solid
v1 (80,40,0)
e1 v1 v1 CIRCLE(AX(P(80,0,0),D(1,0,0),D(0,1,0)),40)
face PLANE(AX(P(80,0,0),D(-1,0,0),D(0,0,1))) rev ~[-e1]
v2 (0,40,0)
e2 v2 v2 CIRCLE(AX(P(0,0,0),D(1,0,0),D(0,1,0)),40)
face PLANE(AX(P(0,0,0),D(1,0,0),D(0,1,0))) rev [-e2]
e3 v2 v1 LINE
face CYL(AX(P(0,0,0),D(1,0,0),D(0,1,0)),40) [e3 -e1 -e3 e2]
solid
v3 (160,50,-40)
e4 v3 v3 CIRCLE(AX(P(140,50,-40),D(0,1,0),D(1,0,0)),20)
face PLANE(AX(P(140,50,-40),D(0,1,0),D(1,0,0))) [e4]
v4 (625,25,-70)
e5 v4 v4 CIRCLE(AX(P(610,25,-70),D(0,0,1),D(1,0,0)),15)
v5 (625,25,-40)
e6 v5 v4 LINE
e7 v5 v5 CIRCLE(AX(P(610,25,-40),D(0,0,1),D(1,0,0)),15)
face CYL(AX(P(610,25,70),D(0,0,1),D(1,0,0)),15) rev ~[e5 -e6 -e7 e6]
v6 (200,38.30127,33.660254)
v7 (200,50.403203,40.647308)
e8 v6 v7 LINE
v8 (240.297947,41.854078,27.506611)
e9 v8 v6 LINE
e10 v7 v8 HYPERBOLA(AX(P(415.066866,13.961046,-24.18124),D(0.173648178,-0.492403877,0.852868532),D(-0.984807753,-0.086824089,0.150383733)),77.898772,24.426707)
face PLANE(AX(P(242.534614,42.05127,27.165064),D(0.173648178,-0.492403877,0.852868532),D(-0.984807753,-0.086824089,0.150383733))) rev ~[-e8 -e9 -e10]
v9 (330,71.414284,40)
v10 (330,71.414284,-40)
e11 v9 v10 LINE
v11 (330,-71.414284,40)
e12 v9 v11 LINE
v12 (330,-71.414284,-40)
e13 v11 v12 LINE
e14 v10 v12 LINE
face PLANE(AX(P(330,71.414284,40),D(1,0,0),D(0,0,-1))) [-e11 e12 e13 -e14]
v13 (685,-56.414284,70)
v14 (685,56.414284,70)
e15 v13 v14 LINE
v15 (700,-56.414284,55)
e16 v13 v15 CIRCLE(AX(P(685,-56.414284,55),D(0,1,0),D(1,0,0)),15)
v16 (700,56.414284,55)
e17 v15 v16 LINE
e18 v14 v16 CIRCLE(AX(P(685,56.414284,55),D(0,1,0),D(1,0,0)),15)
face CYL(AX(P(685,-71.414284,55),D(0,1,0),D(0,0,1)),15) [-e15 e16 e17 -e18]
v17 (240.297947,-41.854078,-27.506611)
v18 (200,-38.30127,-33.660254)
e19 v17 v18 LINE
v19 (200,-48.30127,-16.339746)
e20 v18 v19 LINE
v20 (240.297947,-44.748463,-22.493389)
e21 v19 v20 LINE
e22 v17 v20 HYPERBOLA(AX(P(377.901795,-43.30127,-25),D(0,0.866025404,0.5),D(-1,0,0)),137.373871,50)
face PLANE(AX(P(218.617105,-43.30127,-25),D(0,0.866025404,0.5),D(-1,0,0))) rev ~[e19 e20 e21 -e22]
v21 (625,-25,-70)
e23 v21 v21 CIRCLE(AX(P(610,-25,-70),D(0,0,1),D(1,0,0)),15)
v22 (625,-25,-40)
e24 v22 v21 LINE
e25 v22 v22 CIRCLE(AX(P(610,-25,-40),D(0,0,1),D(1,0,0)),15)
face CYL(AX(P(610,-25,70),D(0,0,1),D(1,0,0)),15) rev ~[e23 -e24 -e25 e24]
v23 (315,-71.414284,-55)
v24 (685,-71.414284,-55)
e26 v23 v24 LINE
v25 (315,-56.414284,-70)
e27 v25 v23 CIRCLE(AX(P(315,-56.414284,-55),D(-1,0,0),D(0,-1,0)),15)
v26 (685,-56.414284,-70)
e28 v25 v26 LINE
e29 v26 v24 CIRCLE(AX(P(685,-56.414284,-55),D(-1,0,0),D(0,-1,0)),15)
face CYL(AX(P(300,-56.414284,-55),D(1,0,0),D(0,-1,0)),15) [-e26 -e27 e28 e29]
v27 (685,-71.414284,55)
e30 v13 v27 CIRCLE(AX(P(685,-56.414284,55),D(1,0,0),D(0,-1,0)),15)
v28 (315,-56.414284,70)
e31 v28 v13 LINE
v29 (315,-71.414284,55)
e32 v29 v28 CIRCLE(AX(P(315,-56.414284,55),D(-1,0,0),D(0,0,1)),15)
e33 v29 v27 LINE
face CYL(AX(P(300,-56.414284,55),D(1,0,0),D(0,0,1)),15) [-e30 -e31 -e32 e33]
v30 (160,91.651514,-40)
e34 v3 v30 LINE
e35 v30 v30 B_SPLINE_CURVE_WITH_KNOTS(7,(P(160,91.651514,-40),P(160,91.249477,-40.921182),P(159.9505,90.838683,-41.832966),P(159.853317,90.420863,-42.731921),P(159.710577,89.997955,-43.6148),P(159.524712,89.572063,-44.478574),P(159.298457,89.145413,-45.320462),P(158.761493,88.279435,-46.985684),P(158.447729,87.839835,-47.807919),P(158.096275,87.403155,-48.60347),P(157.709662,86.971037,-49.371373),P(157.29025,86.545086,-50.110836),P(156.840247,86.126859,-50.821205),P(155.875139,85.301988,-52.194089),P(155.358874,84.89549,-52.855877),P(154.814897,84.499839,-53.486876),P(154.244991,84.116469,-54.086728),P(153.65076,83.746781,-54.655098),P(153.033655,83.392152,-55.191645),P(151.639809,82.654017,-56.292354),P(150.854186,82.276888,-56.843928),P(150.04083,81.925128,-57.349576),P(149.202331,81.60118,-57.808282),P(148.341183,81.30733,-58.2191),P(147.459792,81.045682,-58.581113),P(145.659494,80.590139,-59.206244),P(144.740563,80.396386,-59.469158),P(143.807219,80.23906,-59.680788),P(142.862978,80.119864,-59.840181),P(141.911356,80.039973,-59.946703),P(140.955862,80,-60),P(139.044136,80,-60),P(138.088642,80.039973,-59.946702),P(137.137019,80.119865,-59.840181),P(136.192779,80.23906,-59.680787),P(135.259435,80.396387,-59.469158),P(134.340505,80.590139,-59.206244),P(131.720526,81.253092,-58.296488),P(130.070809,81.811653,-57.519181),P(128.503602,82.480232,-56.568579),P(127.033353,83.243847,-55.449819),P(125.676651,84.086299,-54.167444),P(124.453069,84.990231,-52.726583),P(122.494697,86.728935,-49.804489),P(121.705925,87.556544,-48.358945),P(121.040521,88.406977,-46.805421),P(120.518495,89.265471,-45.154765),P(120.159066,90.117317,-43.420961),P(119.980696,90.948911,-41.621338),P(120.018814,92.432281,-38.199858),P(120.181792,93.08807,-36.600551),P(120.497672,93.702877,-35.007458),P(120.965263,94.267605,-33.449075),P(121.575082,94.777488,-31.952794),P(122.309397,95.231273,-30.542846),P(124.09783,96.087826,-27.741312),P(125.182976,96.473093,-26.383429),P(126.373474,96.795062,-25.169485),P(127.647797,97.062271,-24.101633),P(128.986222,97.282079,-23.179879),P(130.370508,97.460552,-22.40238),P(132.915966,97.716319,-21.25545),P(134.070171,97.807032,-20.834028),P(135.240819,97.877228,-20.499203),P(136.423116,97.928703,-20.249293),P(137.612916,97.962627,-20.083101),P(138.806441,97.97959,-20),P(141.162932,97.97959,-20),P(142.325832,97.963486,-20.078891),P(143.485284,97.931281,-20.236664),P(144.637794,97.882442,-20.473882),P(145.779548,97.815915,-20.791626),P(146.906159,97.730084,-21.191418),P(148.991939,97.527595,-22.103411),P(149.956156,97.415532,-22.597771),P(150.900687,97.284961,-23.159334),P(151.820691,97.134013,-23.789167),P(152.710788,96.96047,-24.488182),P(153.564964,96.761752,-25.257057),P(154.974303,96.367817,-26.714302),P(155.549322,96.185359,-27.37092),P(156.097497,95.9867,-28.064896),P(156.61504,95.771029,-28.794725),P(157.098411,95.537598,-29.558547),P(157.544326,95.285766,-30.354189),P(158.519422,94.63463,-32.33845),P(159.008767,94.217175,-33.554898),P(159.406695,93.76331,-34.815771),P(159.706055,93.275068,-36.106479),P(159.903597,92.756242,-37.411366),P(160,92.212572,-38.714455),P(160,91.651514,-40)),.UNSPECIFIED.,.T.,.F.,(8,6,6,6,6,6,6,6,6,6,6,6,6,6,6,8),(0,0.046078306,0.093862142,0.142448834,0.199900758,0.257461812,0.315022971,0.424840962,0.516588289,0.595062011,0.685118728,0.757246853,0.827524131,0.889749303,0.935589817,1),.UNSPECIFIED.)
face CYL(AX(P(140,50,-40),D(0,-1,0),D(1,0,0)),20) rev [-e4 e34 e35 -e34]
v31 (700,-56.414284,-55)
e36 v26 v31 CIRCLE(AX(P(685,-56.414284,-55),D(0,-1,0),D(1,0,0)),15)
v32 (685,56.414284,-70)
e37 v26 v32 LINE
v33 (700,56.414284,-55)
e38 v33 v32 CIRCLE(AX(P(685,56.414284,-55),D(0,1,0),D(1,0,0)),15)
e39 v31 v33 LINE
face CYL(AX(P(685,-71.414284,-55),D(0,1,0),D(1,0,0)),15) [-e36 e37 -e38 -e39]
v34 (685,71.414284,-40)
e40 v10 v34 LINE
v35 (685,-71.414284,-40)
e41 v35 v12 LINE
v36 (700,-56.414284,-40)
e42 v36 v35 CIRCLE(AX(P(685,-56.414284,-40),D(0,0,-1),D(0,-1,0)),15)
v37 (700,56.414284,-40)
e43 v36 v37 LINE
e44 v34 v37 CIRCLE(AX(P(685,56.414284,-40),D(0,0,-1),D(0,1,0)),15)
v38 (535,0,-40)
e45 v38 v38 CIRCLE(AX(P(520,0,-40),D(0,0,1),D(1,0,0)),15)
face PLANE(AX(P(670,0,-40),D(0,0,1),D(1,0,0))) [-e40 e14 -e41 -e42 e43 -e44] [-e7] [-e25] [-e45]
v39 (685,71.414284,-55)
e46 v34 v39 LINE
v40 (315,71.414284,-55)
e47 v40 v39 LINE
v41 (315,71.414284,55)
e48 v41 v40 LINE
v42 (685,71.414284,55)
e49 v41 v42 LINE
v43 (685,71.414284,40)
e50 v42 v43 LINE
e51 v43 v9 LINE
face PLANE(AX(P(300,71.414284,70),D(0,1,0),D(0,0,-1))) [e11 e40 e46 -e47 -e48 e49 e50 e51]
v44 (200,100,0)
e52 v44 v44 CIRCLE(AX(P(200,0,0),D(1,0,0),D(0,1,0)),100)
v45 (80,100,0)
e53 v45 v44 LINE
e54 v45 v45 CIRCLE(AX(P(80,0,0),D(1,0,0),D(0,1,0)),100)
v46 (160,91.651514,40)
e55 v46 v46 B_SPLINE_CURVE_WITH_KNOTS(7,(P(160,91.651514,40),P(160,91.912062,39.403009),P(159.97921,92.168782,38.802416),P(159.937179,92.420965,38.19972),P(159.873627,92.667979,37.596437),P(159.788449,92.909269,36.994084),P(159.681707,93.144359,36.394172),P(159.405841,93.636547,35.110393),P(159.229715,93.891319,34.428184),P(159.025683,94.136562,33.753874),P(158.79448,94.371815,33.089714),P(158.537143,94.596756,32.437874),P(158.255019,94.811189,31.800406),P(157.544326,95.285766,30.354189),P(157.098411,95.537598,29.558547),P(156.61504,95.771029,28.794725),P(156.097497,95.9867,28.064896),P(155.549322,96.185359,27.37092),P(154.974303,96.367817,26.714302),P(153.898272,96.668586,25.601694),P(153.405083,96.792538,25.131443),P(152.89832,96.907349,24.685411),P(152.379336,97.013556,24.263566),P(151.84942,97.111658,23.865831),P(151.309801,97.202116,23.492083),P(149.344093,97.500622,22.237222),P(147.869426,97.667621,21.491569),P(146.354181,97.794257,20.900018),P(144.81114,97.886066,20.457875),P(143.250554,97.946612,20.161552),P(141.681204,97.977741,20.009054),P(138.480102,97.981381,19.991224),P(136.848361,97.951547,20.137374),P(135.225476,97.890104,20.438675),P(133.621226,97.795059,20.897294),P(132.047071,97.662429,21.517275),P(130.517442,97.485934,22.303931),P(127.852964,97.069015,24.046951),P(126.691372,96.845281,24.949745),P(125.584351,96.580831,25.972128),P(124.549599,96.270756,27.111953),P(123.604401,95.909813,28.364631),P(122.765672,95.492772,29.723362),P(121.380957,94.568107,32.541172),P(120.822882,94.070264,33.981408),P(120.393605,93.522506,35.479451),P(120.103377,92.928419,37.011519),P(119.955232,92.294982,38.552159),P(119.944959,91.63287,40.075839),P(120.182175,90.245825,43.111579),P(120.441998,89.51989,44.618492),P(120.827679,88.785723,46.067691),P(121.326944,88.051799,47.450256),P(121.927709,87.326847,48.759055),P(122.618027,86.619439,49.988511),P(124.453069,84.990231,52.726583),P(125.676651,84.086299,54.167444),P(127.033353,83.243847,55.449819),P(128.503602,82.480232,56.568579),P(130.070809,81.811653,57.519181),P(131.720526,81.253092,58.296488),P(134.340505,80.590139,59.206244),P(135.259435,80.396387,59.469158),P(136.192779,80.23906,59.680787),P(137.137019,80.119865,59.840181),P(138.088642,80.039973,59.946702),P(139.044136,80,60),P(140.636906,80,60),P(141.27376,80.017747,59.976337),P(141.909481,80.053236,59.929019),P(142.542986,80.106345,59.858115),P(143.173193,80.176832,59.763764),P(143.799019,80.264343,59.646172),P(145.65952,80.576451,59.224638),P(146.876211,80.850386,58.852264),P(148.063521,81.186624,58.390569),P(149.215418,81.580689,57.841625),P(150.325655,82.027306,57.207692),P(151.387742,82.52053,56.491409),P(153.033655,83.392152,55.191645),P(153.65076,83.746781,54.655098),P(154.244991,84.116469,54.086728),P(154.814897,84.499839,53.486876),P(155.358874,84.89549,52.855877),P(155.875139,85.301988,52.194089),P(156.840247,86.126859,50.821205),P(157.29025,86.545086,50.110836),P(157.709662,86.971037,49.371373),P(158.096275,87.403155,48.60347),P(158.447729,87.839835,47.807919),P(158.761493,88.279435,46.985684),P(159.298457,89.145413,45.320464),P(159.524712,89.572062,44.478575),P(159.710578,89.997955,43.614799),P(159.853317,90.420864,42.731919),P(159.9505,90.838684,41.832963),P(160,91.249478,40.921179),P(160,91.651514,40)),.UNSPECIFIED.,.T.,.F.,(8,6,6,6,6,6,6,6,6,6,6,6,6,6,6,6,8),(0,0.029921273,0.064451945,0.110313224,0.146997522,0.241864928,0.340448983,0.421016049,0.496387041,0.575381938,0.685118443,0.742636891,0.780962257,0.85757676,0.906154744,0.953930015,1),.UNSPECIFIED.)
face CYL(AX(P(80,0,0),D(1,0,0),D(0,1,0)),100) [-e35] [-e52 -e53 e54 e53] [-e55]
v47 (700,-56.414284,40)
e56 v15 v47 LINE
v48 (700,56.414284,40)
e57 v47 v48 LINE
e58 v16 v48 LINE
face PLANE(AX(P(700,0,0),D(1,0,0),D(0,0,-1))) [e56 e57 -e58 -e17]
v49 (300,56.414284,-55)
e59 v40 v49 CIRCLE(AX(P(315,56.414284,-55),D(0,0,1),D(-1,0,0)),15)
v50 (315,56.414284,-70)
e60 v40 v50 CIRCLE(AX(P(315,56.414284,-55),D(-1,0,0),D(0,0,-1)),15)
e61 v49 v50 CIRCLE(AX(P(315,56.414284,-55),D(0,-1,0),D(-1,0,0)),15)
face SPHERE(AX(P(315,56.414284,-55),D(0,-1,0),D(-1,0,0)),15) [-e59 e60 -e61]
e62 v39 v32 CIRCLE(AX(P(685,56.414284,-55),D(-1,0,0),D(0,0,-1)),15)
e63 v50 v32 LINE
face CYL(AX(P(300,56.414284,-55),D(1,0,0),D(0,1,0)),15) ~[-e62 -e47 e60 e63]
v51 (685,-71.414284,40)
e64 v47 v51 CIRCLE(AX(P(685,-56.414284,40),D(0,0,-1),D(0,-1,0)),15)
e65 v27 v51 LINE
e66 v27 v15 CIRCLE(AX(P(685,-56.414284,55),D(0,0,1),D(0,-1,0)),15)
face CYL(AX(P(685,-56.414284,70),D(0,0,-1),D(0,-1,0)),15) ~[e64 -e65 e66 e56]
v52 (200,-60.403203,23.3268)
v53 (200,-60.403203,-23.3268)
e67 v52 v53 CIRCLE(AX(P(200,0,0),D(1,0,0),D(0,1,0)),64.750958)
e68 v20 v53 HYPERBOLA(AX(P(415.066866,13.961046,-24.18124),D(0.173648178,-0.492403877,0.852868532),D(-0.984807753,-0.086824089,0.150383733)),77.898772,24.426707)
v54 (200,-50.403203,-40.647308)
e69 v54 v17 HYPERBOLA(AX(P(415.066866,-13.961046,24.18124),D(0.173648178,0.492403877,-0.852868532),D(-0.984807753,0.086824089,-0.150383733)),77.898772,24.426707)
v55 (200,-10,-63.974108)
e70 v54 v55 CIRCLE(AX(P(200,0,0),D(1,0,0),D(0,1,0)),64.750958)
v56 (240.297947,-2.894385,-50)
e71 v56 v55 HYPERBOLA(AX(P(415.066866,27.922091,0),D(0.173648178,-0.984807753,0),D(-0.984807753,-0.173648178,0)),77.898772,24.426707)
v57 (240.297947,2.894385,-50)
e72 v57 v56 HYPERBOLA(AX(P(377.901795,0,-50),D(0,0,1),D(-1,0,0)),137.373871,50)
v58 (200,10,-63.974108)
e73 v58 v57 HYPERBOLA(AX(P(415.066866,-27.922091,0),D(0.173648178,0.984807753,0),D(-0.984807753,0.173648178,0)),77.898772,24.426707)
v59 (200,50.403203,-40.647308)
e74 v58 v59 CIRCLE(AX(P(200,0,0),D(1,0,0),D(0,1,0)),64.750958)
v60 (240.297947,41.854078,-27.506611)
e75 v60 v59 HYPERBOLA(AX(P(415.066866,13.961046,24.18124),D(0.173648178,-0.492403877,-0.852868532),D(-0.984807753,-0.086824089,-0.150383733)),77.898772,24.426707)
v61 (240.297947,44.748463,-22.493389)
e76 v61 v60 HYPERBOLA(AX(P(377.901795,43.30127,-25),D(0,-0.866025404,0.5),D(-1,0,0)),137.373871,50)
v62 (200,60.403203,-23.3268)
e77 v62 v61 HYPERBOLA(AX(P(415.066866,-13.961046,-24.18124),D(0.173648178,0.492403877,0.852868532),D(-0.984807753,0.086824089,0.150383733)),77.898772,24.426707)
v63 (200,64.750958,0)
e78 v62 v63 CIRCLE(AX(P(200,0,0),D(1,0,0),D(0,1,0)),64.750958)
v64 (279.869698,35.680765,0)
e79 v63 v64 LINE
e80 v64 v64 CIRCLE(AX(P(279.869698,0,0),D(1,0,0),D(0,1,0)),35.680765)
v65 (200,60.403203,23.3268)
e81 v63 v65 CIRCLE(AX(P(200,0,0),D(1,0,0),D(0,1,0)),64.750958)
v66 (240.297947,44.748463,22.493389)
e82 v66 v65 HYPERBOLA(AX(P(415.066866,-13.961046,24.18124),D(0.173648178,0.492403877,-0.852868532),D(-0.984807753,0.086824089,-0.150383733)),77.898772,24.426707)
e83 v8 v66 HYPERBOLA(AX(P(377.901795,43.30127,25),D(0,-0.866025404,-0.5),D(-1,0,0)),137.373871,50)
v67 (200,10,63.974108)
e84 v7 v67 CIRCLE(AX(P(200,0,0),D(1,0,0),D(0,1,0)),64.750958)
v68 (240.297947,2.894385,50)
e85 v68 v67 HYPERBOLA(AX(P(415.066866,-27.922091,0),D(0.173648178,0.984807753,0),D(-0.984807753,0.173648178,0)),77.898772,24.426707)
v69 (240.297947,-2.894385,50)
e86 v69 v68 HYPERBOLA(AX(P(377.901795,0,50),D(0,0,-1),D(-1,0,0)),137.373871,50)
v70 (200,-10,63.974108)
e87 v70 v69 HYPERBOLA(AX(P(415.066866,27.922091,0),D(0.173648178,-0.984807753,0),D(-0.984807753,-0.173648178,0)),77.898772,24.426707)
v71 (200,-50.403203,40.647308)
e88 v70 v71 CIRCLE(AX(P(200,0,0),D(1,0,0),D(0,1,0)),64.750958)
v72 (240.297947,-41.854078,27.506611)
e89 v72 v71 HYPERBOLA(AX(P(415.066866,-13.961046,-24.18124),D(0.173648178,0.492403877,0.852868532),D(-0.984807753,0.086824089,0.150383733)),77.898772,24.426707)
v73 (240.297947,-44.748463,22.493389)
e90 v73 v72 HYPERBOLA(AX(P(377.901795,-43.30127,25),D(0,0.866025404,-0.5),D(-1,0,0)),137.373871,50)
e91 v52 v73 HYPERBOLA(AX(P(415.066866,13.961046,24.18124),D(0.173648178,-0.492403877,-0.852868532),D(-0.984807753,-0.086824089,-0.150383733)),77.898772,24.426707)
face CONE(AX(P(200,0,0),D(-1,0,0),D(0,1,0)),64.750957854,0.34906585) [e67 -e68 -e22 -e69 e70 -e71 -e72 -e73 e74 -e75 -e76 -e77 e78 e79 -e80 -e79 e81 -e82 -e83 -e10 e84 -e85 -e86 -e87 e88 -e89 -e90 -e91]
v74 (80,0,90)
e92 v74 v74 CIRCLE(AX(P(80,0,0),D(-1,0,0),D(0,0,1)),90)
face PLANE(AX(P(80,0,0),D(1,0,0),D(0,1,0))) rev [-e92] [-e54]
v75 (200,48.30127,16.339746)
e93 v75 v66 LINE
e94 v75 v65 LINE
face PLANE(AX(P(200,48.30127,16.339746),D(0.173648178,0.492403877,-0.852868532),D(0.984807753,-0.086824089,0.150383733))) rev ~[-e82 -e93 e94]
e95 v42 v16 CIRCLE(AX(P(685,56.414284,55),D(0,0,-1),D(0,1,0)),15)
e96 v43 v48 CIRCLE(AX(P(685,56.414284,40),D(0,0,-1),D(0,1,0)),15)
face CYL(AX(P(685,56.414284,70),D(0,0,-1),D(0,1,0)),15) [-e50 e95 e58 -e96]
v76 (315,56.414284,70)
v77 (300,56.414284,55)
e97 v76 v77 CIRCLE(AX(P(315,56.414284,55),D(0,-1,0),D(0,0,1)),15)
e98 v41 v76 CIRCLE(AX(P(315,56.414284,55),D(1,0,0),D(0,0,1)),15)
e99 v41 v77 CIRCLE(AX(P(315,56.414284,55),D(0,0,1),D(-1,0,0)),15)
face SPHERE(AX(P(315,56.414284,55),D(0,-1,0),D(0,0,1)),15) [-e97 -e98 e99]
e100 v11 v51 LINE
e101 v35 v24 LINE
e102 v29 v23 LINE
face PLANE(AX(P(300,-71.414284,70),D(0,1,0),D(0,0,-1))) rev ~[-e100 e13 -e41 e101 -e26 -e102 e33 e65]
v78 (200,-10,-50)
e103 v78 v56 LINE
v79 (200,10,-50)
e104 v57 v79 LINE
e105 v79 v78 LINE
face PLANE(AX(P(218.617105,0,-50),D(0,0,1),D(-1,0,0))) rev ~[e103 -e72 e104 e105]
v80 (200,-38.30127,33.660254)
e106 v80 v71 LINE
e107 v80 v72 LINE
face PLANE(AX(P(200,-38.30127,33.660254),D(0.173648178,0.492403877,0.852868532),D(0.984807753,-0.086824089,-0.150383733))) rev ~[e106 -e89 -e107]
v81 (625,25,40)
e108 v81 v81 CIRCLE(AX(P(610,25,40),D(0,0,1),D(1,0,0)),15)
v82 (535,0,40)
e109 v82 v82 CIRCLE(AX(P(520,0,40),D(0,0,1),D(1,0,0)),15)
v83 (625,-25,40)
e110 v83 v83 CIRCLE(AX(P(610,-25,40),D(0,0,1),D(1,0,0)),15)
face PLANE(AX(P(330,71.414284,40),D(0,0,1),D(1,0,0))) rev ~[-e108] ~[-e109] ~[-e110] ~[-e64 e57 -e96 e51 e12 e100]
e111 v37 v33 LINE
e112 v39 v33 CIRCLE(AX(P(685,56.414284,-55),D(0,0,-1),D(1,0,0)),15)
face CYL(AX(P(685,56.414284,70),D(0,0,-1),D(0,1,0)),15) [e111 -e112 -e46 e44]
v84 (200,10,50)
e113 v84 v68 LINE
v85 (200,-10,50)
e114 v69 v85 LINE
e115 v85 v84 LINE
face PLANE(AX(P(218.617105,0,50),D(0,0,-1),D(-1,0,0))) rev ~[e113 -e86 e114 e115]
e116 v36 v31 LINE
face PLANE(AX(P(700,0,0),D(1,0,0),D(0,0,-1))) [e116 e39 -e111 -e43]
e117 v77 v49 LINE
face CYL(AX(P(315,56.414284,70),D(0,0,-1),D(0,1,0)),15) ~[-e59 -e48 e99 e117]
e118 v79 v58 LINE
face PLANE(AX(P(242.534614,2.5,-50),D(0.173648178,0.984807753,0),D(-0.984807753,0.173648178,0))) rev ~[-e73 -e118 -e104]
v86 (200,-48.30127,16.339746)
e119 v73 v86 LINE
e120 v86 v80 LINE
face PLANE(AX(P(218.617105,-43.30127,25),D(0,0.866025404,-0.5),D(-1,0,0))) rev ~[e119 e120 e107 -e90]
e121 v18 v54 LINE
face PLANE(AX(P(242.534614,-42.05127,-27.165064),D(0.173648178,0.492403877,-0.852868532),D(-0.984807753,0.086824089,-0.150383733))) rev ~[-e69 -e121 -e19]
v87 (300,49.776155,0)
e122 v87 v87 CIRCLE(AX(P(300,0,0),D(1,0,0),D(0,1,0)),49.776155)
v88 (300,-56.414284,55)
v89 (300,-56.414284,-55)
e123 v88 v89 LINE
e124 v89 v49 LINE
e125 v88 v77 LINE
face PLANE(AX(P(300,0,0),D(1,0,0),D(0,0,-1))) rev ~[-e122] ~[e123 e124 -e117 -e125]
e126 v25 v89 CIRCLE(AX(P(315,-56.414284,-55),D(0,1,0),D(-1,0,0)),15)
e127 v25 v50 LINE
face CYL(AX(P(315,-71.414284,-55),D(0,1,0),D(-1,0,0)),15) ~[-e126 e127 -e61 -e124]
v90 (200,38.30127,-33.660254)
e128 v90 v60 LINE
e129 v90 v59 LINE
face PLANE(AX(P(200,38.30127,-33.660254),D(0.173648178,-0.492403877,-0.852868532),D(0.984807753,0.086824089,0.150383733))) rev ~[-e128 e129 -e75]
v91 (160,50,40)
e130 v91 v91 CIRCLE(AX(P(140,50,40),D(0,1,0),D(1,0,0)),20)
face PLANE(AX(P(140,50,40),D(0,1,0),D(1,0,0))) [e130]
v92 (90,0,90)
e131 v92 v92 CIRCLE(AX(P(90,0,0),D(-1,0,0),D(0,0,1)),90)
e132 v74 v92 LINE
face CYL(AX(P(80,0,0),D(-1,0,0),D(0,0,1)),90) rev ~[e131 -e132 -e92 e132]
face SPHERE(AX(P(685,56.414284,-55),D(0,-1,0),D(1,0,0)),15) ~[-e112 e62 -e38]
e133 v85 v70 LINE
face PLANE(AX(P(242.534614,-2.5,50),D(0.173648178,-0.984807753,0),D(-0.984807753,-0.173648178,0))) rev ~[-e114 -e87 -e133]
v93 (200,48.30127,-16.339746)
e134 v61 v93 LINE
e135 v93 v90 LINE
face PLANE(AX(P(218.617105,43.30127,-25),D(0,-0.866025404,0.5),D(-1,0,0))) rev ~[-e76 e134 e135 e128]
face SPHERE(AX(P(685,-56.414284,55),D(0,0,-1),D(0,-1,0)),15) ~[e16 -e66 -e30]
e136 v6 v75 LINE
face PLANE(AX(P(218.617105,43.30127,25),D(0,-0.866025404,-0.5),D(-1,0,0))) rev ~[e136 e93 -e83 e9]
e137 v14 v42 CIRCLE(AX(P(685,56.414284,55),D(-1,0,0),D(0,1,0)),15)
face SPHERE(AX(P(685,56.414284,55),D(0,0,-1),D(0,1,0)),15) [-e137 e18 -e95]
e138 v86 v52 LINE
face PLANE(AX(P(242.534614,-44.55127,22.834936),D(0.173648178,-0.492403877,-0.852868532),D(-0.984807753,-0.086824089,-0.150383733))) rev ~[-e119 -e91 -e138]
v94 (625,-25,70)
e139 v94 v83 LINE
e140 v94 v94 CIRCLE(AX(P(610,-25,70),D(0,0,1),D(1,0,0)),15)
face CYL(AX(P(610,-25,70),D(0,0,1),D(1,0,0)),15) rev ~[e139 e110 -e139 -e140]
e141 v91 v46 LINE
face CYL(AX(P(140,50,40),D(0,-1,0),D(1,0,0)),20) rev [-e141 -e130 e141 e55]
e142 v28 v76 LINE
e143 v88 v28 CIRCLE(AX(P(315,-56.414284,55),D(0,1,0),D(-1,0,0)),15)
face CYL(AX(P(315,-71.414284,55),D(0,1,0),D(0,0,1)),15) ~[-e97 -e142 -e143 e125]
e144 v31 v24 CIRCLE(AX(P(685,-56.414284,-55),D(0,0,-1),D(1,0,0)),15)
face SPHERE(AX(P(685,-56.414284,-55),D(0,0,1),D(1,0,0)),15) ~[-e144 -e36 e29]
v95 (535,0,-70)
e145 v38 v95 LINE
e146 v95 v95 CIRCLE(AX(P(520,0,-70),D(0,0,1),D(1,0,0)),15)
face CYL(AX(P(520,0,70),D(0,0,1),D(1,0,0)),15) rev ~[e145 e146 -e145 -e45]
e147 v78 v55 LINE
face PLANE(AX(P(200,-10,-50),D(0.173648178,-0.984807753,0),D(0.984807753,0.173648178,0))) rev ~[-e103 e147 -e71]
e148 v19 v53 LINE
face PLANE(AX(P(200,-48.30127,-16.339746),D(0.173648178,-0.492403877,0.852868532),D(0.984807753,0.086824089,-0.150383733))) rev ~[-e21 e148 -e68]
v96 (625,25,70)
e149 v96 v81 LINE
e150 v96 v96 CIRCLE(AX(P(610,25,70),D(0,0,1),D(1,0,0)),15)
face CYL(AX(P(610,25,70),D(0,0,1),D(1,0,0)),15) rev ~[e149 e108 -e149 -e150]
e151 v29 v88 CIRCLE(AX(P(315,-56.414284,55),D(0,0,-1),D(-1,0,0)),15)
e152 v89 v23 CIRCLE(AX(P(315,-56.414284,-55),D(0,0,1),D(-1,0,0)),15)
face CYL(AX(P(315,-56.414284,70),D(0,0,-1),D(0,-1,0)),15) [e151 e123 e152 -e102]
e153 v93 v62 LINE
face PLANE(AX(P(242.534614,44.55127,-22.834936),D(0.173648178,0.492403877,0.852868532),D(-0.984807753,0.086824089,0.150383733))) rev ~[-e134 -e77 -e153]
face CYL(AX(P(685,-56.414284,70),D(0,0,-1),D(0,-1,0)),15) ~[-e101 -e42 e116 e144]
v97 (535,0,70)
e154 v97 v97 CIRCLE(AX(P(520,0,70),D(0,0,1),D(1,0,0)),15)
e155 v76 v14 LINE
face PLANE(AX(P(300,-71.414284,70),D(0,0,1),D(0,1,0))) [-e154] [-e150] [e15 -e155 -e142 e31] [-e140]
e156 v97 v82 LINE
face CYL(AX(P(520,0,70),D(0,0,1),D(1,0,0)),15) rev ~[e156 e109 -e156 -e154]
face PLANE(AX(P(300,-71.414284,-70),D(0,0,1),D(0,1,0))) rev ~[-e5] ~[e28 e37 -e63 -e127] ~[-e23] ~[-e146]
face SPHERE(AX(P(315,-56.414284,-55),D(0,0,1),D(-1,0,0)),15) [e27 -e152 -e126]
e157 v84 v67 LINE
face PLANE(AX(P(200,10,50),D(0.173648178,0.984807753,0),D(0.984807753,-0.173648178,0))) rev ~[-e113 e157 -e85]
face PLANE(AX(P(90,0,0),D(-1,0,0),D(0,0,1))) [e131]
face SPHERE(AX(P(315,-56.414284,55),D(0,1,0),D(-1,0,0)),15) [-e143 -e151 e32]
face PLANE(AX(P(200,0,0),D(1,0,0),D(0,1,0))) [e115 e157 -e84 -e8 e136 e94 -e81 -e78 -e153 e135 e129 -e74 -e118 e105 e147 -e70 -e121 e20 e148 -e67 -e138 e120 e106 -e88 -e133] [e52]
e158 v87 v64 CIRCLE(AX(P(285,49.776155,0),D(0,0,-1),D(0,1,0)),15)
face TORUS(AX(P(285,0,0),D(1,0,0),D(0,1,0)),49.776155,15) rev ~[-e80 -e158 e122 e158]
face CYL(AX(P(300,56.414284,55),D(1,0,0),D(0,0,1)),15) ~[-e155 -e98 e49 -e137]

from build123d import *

# Parameters (mm, degrees)
SKETCH2_R               = 90
CUT_EXTRUDE1_DEPTH      = 10
SKETCH3_W               = 140
SKETCH3_H               = 142.82856857
BOSS_EXTRUDE1_DEPTH     = 400
FILLET1_R               = 15
CUT_EXTRUDE4_START      = 50
SKETCH6_R               = 20
CUT_EXTRUDE4_DEPTH      = 54
CUT_EXTRUDE5_START      = 50
CUT_EXTRUDE5_DEPTH      = 54
CIRPATTERN1_COUNT       = 6
SKETCH8_W               = 340
SKETCH8_H               = 80
CUT_EXTRUDE6_DEPTH      = 172.414284385
SKETCH9_R               = 15
CUT_EXTRUDE7_DEPTH      = 171.0000001
SKETCH10_W              = 30
SKETCH10_H              = 80
CUT_EXTRUDE8_DEPTH      = 101.0000001
CUT_EXTRUDE8_DEPTH_BACK = 101.0000001


with BuildPart() as part:
    # Sketch1 → Revolve1 (revolve)
    with BuildSketch(Plane.XY):
        Polygon((0, 0), (0, 40), (80, 40), (80, 100), (200, 100), (200, 64.750957854), (300, 28.353934428), (300, 0), align=None)
    revolve(axis=Axis((-5657.507821664, 0, 0), (1, 0, 0)))

    # Sketch2 → Cut-Extrude1 (cut)
    with BuildSketch(Plane.ZY.offset(-80)):
        Circle(SKETCH2_R)
    extrude(amount=-CUT_EXTRUDE1_DEPTH, mode=Mode.SUBTRACT)

    # Sketch3 → Boss-Extrude1 (add)
    with BuildSketch(Plane(origin=(300, 0, 0), x_dir=(0, 0, -1), z_dir=(1, 0, 0))):
        Rectangle(SKETCH3_W, SKETCH3_H)
    extrude(amount=BOSS_EXTRUDE1_DEPTH)

    # Fillet1
    fillet1_edges = [part.edges().sort_by_distance(p)[0] for p in [
        (700, -71.414284285, 0),
        (700, 0, -70),
        (700, 71.414284285, 0),
        (300, -28.353934428, 0),
        (300, 0, 70),
        (500, 71.414284285, 70),
        (300, -71.414284285, 0),
        (500, -71.414284285, 70),
        (300, 0, -70),
        (500, -71.414284285, -70),
        (300, 71.414284285, 0),
        (500, 71.414284285, -70),
        (700, 0, 70),
    ]]
    fillet(fillet1_edges, radius=FILLET1_R)

    # Sketch6 → Cut-Extrude4 (cut)
    with BuildSketch(Plane(origin=(0, 0, 0), x_dir=(1, 0, 0), z_dir=(0, 1, 0)).offset(CUT_EXTRUDE4_START)):
        with Locations((140, 40)):
            Circle(SKETCH6_R)
        with Locations((140, -40)):
            Circle(SKETCH6_R)
    extrude(amount=CUT_EXTRUDE4_DEPTH, mode=Mode.SUBTRACT)

    # Sketch7 → Cut-Extrude5 (cut)
    with BuildSketch(Plane.XY.offset(CUT_EXTRUDE5_START)):
        with BuildLine():
            Line((200, 10), (242.534613647, 2.5))
            ThreePointArc((242.534613647, 2.5), (243.876301252, 0), (242.534613647, -2.5))
            Line((242.534613647, -2.5), (200, -10))
            Line((200, -10), (200, 10))
        make_face()
    cut_extrude5 = extrude(amount=CUT_EXTRUDE5_DEPTH, mode=Mode.SUBTRACT)

    # CirPattern1: Cut-Extrude5 ×6 about axis
    cirpattern1_axis = Axis((0, 0, 0), (1, 0, 0))
    for i in range(1, CIRPATTERN1_COUNT):
        add(cut_extrude5.rotate(cirpattern1_axis, i * 360 / CIRPATTERN1_COUNT), mode=Mode.SUBTRACT)

    # Sketch8 → Cut-Extrude6 (cut, through all)
    with BuildSketch(Plane(origin=(0, 71.414284285, 0), x_dir=(1, 0, 0), z_dir=(0, 1, 0))):
        with Locations((500, 0)):
            Rectangle(SKETCH8_W, SKETCH8_H)
    extrude(amount=-CUT_EXTRUDE6_DEPTH, mode=Mode.SUBTRACT)

    # Sketch9 → Cut-Extrude7 (cut, through all)
    with BuildSketch(Plane.XY.offset(70)):
        with Locations((520, 0)):
            Circle(SKETCH9_R)
        with Locations((610, 25)):
            Circle(SKETCH9_R)
        with Locations((610, -25)):
            Circle(SKETCH9_R)
    extrude(amount=-CUT_EXTRUDE7_DEPTH, mode=Mode.SUBTRACT)

    # Sketch10 → Cut-Extrude8 (cut, two sides)
    with BuildSketch(Plane(origin=(0, 0, 0), x_dir=(1, 0, 0), z_dir=(0, 1, 0))) as cut_extrude8_sk:
        with Locations((685, 0)):
            Rectangle(SKETCH10_W, SKETCH10_H)
    extrude(amount=CUT_EXTRUDE8_DEPTH, mode=Mode.SUBTRACT)
    extrude(cut_extrude8_sk.sketch, amount=-CUT_EXTRUDE8_DEPTH_BACK, mode=Mode.SUBTRACT)


solid = part.part
